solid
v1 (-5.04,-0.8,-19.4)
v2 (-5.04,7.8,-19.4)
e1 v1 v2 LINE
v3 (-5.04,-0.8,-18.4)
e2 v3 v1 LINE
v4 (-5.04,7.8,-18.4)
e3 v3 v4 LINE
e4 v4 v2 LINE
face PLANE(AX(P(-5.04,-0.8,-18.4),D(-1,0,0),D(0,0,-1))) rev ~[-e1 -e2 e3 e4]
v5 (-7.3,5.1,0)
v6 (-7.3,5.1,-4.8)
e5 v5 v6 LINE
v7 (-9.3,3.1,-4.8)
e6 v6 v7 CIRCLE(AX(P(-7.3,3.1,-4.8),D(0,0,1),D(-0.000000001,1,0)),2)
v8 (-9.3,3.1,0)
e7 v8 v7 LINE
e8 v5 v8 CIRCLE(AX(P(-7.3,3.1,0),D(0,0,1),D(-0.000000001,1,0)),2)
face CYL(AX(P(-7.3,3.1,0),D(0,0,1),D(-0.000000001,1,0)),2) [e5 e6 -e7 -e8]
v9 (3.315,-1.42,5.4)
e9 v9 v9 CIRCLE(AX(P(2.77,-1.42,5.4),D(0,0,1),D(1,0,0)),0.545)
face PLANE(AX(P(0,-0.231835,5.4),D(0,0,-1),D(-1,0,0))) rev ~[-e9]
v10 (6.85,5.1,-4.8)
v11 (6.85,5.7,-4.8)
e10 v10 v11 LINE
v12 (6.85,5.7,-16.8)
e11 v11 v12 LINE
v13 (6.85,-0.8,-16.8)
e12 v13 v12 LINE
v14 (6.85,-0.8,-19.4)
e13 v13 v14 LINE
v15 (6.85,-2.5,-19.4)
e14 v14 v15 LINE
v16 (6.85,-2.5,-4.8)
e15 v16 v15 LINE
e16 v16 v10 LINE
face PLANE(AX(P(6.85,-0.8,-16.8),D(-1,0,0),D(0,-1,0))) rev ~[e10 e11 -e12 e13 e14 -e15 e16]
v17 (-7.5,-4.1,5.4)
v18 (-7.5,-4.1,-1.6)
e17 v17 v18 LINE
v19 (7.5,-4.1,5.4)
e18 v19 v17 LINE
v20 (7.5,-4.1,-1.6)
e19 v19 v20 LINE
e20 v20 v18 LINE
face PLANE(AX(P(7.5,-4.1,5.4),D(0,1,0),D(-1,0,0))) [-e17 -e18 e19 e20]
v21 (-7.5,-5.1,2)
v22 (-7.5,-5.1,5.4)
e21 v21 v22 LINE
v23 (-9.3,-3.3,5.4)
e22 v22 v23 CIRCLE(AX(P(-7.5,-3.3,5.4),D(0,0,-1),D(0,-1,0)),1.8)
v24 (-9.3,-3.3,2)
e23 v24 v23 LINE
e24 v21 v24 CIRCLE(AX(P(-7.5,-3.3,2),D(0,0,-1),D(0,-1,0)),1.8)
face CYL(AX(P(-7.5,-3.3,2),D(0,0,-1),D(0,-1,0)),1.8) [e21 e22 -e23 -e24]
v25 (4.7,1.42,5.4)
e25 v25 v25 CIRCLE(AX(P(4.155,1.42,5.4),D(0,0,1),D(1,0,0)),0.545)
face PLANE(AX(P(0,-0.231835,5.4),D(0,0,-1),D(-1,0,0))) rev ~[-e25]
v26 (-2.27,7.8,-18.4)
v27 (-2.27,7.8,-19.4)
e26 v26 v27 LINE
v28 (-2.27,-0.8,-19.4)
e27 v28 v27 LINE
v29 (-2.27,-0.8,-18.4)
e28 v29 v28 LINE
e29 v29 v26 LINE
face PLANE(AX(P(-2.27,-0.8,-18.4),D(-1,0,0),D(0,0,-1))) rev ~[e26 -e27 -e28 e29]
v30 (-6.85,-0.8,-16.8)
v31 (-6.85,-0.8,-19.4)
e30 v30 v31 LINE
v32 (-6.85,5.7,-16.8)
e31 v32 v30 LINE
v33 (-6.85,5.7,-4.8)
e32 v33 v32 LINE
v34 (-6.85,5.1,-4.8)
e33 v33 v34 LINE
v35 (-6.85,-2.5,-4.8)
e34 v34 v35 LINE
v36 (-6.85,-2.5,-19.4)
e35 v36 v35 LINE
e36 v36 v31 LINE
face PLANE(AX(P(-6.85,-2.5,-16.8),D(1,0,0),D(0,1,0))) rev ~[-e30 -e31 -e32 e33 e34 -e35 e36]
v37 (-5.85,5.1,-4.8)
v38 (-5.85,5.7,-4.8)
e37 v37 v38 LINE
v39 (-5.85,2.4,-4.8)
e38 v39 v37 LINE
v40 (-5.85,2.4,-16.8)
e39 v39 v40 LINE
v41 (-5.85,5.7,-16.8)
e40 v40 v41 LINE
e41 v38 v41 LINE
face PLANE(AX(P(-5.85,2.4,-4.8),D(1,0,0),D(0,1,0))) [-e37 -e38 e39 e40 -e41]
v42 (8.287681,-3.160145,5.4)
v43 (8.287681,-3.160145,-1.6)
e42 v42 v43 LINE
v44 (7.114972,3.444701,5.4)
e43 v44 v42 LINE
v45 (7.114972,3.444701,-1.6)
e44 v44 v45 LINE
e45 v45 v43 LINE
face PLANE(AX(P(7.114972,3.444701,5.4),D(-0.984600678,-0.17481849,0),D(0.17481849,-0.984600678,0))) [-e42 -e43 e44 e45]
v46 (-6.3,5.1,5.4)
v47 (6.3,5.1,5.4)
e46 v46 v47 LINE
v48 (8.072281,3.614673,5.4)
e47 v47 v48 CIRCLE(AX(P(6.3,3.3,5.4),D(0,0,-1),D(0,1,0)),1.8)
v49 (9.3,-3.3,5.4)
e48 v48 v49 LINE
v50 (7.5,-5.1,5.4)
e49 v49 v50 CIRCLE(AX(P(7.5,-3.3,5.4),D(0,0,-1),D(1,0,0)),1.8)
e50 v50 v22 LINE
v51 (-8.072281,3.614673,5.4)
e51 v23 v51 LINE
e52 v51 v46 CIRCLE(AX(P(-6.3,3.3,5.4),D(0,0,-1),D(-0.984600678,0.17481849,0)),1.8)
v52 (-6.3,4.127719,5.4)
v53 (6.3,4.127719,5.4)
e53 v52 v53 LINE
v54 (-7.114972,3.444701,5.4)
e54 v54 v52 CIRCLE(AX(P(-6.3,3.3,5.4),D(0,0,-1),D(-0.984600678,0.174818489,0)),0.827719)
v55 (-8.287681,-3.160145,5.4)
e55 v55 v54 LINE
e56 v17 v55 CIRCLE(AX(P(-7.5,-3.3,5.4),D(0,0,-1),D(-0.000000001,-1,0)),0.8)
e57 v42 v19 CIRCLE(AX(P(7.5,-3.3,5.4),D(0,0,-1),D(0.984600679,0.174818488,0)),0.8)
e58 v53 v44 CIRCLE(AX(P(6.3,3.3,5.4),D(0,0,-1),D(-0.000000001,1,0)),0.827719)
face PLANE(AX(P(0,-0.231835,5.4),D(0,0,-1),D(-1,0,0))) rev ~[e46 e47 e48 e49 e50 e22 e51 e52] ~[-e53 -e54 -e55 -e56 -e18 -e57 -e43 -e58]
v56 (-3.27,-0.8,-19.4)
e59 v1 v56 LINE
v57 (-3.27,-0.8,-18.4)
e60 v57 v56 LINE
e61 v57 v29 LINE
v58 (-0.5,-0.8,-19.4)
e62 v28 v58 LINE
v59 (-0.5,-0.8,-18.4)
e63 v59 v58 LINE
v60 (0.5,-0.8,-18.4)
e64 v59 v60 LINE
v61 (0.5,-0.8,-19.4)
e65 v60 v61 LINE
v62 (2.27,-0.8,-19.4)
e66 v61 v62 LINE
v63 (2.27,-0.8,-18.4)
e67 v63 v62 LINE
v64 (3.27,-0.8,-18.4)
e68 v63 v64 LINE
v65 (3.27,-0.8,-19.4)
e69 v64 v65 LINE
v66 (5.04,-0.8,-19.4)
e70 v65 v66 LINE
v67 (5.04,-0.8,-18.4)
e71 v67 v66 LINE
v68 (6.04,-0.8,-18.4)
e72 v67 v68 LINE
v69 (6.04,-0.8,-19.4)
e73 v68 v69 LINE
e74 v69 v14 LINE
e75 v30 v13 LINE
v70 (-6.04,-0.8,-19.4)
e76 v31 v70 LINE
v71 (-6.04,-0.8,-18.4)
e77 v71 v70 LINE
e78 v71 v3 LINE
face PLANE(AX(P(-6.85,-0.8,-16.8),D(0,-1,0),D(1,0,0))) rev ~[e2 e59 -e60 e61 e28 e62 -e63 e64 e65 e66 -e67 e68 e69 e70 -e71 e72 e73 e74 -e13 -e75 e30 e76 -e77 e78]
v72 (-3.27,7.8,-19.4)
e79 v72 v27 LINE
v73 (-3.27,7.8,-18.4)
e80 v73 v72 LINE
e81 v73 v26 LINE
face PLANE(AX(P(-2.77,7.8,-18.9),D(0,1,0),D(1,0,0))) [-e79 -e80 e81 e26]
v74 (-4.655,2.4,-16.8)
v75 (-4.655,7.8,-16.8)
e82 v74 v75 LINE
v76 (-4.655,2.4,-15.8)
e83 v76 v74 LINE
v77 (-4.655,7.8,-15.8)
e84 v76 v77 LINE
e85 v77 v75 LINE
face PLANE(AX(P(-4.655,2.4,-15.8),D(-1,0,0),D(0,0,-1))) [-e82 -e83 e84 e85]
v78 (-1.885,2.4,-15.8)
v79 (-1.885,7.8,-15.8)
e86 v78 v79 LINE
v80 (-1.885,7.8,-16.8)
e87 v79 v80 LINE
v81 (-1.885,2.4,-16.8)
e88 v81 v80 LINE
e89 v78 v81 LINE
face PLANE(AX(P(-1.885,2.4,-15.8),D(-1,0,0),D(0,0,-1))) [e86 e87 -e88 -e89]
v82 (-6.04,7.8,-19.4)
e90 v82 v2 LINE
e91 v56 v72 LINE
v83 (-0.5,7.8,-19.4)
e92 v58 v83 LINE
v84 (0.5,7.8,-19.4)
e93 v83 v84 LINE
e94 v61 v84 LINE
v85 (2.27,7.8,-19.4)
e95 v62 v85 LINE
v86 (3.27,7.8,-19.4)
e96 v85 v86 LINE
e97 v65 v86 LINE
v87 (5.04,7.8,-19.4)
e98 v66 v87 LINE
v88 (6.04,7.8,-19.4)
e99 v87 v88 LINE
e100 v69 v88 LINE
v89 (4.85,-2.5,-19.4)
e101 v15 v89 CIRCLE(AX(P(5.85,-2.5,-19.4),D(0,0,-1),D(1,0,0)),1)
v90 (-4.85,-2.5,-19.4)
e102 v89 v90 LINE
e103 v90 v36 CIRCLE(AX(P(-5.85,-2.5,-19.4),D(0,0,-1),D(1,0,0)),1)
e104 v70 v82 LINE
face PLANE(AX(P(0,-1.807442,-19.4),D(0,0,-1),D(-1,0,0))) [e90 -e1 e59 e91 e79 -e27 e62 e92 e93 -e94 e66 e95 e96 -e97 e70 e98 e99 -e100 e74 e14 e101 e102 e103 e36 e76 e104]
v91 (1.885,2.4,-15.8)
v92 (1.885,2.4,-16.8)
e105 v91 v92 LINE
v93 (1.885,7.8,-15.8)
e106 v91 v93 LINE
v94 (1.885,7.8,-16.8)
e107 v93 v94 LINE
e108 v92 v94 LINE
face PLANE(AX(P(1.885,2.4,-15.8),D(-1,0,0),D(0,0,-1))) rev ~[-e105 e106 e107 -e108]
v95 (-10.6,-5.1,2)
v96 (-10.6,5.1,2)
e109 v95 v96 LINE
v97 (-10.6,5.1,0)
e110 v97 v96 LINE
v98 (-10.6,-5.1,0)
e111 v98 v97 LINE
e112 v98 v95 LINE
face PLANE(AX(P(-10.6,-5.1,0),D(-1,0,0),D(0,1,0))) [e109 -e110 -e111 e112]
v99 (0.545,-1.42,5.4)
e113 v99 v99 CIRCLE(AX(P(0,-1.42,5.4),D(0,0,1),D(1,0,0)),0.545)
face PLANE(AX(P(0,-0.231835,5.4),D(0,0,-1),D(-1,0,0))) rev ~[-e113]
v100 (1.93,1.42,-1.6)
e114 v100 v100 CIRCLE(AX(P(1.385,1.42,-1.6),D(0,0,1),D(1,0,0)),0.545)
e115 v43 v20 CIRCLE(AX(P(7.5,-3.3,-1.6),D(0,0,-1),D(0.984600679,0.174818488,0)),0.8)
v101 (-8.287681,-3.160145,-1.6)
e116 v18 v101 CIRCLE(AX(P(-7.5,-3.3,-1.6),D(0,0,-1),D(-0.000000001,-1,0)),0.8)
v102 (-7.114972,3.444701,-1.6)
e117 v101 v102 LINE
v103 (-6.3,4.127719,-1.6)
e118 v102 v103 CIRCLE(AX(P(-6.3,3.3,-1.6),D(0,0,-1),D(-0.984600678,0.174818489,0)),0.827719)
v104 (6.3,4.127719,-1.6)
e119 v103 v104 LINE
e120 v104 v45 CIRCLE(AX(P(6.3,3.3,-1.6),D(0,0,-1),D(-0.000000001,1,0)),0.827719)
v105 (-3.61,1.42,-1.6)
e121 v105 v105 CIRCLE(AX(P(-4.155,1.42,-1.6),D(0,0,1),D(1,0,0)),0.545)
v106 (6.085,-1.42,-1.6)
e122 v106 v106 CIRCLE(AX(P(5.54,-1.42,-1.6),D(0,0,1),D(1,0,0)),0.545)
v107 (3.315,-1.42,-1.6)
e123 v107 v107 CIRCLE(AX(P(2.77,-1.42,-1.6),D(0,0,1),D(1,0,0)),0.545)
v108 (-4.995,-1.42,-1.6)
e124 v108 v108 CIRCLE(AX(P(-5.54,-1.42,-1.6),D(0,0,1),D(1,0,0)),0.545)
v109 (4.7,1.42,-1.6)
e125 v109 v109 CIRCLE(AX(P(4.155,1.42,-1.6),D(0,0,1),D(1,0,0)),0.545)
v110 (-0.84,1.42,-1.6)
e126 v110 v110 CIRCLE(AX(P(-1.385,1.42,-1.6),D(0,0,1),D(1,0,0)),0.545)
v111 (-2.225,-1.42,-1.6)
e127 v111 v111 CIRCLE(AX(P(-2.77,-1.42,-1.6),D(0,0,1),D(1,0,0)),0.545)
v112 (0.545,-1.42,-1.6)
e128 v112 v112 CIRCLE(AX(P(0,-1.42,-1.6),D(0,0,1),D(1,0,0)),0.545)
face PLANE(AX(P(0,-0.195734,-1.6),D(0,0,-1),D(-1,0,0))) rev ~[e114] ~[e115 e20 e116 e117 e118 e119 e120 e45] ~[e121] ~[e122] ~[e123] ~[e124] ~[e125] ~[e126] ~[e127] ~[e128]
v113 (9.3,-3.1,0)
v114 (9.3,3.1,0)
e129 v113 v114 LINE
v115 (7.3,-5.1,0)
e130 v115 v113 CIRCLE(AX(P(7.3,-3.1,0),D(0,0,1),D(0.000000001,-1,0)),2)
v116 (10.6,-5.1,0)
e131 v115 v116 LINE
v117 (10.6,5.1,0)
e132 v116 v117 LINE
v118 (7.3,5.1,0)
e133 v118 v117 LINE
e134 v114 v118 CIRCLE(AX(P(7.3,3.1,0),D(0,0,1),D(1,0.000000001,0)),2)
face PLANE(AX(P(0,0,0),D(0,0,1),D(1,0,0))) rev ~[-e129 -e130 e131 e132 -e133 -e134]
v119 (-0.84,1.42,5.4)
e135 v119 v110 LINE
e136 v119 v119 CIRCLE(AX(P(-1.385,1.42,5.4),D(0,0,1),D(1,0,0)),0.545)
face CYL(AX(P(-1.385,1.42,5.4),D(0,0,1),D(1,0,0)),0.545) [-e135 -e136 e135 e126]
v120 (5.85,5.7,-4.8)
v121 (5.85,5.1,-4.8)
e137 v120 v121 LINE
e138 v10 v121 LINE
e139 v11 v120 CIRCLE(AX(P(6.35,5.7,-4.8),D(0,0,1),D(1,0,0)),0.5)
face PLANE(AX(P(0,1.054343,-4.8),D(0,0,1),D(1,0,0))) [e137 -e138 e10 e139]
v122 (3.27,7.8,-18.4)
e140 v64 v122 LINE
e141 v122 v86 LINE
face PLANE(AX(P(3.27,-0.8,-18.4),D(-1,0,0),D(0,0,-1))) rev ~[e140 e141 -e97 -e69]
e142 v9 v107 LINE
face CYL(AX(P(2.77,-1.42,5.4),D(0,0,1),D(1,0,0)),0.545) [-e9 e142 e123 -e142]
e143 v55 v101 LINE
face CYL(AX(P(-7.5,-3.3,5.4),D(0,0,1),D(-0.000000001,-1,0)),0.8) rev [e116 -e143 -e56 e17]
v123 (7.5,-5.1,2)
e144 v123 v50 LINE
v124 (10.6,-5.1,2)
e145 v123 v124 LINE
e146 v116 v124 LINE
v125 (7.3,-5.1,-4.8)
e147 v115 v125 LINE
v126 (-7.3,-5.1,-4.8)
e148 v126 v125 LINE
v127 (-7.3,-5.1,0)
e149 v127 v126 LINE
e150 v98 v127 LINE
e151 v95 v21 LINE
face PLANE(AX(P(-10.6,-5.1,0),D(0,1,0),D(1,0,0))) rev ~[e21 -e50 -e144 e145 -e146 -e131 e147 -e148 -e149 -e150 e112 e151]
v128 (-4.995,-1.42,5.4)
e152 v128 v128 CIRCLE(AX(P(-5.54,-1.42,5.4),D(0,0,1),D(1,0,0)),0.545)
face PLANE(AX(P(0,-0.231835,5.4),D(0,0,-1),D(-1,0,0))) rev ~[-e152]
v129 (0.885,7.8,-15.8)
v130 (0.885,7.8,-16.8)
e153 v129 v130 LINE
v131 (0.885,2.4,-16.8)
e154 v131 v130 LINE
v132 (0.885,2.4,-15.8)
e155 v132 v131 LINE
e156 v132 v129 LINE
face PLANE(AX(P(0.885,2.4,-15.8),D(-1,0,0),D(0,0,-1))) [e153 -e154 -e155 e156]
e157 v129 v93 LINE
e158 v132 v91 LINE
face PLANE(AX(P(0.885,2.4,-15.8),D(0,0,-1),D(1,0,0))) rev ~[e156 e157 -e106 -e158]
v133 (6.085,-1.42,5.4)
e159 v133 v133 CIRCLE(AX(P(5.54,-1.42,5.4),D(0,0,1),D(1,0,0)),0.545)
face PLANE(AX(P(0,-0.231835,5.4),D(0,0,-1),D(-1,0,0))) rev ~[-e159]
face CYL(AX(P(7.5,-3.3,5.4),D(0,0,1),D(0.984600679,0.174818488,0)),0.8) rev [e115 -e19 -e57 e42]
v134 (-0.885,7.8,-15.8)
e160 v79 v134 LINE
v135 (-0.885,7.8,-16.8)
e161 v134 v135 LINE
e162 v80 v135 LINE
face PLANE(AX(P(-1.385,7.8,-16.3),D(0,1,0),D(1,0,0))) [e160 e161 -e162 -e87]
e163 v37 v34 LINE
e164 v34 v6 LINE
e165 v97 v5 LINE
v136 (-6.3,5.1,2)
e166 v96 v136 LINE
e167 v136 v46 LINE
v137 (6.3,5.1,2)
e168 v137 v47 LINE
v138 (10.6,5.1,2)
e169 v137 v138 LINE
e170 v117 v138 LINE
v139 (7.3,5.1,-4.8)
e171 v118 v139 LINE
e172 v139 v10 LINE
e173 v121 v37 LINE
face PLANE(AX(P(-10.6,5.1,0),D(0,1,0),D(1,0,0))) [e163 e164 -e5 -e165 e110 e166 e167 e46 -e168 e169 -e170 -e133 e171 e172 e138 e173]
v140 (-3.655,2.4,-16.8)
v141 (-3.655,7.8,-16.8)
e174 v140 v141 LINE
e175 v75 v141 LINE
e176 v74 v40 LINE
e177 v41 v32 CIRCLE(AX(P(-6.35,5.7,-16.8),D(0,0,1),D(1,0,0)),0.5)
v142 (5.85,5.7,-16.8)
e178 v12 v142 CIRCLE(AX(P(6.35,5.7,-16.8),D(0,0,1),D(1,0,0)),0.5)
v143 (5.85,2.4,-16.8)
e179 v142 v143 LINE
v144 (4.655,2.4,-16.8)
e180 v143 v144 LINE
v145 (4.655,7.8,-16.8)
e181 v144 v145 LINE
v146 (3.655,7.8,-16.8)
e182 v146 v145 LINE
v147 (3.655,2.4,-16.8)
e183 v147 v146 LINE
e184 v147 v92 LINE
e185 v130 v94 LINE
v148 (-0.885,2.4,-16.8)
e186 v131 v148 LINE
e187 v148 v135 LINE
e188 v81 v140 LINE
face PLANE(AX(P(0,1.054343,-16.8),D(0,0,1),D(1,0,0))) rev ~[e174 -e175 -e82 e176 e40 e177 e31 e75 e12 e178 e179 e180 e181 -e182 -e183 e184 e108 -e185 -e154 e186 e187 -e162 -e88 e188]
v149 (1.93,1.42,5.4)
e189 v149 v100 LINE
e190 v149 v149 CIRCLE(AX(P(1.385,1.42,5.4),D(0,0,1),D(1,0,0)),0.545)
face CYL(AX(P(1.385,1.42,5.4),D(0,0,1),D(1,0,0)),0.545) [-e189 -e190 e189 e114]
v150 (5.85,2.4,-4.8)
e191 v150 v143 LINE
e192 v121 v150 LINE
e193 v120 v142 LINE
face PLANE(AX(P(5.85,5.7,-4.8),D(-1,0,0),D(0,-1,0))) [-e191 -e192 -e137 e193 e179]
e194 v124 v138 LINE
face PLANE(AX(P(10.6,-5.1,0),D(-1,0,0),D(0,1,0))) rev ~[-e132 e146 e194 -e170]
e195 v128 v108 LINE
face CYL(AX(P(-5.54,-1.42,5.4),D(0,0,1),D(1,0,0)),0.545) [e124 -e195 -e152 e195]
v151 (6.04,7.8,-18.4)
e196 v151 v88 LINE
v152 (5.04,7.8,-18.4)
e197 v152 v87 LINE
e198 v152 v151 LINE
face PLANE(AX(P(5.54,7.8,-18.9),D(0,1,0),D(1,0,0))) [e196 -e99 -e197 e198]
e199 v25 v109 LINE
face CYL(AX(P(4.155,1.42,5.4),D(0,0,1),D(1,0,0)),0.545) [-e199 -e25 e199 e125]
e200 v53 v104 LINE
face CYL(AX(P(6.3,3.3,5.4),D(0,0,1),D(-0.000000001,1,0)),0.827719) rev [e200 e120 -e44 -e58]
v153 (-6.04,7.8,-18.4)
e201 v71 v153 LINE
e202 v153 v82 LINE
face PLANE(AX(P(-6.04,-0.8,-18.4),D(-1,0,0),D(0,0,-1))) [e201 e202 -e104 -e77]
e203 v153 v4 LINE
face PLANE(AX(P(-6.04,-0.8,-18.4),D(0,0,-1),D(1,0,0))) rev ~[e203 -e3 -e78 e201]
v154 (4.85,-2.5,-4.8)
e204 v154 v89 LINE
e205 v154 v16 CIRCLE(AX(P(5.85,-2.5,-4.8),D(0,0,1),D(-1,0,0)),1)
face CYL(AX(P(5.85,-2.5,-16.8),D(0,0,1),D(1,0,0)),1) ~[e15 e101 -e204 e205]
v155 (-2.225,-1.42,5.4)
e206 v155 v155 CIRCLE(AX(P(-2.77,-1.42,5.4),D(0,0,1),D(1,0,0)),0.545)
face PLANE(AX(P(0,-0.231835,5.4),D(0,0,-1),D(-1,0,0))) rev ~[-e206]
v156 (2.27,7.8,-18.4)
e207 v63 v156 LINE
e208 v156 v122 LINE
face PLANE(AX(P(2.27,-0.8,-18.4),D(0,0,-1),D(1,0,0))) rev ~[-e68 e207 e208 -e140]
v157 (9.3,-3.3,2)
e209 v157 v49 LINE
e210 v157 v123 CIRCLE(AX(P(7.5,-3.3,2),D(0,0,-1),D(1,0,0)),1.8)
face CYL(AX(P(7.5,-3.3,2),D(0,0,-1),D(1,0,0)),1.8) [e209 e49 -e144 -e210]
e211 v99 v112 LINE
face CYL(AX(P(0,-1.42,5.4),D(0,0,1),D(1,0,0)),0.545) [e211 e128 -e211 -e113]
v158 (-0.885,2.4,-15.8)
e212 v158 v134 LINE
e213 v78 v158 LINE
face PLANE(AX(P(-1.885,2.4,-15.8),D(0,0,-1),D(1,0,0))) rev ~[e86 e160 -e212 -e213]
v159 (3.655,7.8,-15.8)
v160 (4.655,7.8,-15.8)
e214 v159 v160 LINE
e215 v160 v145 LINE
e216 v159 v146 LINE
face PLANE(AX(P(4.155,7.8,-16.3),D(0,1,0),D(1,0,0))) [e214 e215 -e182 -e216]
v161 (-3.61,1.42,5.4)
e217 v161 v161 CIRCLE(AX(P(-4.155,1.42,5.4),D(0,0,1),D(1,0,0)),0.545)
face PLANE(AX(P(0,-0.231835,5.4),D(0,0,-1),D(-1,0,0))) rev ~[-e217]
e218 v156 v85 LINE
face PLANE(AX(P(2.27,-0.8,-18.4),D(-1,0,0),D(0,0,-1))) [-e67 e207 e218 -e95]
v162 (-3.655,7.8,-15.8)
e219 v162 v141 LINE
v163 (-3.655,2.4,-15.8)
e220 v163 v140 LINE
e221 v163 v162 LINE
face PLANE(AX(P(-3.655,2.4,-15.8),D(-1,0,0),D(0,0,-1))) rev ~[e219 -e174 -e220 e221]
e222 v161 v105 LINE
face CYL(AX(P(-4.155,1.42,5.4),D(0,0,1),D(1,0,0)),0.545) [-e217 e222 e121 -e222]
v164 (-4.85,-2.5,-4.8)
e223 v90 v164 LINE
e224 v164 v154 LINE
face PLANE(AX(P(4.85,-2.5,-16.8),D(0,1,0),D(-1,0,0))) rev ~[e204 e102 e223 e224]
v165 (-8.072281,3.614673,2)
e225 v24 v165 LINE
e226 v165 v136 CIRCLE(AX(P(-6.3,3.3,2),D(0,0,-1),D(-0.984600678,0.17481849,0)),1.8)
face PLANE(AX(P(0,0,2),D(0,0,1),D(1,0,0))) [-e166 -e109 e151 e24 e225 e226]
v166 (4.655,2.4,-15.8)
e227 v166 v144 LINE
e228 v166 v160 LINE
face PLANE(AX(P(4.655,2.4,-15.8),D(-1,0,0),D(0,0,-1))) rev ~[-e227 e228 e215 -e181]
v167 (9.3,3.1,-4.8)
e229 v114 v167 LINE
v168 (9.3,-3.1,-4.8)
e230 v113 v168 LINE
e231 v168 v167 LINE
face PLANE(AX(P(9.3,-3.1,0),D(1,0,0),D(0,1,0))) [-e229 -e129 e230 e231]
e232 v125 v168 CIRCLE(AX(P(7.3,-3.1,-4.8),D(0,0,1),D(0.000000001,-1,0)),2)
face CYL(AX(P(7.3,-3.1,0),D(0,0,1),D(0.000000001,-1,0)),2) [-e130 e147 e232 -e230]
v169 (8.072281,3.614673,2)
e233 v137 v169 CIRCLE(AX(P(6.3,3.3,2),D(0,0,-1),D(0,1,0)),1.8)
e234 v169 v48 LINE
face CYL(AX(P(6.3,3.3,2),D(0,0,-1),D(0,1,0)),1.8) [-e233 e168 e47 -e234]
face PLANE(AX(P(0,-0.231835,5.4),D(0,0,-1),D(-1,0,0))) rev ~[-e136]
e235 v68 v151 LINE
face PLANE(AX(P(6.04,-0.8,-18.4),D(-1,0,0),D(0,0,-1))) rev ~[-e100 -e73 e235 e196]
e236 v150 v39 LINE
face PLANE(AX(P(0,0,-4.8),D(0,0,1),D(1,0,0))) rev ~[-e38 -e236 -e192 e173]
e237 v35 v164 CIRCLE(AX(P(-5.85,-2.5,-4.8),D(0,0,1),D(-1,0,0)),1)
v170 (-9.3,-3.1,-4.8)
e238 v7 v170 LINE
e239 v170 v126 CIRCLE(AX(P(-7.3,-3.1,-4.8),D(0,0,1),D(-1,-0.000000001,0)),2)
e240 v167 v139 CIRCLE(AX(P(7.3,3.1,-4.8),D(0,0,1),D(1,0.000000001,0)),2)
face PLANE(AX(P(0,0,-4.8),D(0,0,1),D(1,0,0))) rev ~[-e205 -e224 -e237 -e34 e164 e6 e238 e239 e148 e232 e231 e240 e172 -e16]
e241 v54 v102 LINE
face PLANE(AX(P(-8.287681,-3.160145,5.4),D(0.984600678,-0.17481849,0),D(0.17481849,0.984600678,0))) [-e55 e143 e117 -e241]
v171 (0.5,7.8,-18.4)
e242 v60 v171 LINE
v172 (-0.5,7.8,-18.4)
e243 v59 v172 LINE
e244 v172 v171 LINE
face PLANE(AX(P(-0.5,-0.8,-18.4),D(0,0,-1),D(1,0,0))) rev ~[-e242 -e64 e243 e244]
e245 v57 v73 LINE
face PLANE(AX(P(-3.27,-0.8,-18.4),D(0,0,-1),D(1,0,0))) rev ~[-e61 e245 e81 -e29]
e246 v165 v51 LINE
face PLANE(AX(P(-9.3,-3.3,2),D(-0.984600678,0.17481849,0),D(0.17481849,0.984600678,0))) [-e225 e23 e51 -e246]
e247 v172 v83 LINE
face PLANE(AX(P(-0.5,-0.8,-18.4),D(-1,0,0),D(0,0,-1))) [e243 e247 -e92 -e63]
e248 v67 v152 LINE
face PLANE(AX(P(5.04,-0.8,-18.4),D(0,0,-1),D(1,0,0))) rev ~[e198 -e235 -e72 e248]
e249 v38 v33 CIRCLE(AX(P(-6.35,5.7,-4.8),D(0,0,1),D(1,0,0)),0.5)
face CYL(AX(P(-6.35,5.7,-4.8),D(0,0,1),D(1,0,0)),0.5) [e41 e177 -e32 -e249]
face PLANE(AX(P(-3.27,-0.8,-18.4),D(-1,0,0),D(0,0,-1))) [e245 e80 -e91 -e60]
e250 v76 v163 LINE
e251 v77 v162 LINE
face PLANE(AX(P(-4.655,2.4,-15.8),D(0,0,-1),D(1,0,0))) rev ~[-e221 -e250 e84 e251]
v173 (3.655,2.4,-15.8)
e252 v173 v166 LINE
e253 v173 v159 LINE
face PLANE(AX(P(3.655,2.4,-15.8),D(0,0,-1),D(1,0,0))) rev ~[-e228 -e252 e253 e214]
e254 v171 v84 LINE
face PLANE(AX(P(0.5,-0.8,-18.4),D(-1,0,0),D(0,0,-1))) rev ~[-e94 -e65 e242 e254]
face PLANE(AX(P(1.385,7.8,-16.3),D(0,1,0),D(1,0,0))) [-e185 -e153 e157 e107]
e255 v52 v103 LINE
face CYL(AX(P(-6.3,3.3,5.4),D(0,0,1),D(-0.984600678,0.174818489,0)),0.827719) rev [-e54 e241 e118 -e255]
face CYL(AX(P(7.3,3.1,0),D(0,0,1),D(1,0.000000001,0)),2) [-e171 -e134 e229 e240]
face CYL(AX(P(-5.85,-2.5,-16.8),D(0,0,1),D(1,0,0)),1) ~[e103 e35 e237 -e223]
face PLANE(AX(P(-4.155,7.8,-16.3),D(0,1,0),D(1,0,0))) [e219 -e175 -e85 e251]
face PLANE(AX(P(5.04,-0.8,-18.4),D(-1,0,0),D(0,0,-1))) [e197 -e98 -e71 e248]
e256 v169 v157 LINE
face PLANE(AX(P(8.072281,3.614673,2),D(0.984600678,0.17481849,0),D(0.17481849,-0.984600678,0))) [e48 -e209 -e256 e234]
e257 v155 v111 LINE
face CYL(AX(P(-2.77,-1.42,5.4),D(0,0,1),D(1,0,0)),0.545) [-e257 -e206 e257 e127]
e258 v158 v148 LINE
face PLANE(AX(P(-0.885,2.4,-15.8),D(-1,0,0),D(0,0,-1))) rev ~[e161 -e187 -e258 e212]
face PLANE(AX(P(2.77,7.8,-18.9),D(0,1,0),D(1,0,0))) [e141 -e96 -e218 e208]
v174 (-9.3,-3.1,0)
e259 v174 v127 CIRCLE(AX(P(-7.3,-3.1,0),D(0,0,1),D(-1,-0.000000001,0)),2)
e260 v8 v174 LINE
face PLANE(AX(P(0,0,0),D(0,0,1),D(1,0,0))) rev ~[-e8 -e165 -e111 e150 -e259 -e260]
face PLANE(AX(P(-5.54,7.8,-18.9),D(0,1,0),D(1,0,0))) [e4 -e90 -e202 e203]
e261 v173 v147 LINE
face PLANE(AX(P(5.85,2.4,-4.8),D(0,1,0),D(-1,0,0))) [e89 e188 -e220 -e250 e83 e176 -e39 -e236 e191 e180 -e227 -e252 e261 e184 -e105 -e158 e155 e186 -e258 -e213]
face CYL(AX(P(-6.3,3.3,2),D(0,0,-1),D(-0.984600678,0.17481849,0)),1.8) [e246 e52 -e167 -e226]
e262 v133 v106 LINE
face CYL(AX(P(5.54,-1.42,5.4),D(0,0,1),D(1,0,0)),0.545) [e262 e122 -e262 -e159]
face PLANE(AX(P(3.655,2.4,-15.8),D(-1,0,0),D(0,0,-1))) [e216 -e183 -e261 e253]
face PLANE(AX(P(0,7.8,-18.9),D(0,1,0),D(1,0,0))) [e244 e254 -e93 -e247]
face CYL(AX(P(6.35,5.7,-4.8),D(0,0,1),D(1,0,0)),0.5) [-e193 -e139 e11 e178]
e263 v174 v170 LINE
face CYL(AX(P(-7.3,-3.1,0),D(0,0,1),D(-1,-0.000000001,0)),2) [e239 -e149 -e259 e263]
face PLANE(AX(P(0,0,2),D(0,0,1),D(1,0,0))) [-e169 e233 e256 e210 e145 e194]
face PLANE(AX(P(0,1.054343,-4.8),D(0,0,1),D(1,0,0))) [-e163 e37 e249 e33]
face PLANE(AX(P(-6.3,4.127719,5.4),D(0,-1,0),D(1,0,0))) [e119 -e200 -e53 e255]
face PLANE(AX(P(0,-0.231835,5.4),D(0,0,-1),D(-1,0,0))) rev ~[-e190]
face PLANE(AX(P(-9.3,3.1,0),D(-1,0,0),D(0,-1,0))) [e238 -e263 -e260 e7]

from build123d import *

# Parameters (mm, degrees)
SKETCH_1_W          = 21.2
SKETCH_1_H          = 10.2
EXTRUDE_1_DEPTH     = 2
EXTRUDE_2_DEPTH     = 3.4
EXTRUDE_3_DEPTH     = 4.8
EXTRUDE_4_DEPTH     = 12
EXTRUDE_5_DEPTH     = 2.6
SKETCH_6_R          = 0.545
CUT_EXTRUDE_1_DEPTH = 7
SKETCH_7_W          = 1
SKETCH_7_H          = 1
EXTRUDE_6_DEPTH     = 8.6
SKETCH_8_W          = 1
SKETCH_8_H          = 1
EXTRUDE_7_DEPTH     = 5.4


with BuildPart() as part:
    # Эскиз1 → Бобышка-Вытянуть1 (new body)
    with BuildSketch(Plane.XY):
        Rectangle(SKETCH_1_W, SKETCH_1_H)
    extrude(amount=EXTRUDE_1_DEPTH)

    # Эскиз2 → Бобышка-Вытянуть2 (add)
    with BuildSketch(Plane.XY.offset(2)):
        with BuildLine():
            Line((-6.3, 5.1), (6.3, 5.1))
            ThreePointArc((6.3, 5.1), (7.4561981, 4.679567307), (8.072281221, 3.614673282))
            Line((8.072281221, 3.614673282), (9.3, -3.3))
            ThreePointArc((9.3, -3.3), (8.772792206, -4.572792206), (7.5, -5.1))
            Line((7.5, -5.1), (-7.5, -5.1))
            ThreePointArc((-7.5, -5.1), (-8.772792206, -4.572792206), (-9.3, -3.3))
            Line((-9.3, -3.3), (-8.072281221, 3.614673282))
            ThreePointArc((-8.072281221, 3.614673282), (-7.4561981, 4.679567307), (-6.3, 5.1))
        make_face()
    extrude(amount=EXTRUDE_2_DEPTH)

    # Эскиз3 → Бобышка-Вытянуть3 (add)
    with BuildSketch(Plane(origin=(0, 0, 0), x_dir=(-1, 0, 0), z_dir=(0, 0, -1))):
        with BuildLine():
            Line((7.3, -5.1), (-7.3, -5.1))
            ThreePointArc((-7.3, -5.1), (-8.714213562, -4.514213562), (-9.3, -3.1))
            Line((-9.3, -3.1), (-9.3, 3.1))
            ThreePointArc((-9.3, 3.1), (-8.714213562, 4.514213562), (-7.3, 5.1))
            Line((-7.3, 5.1), (7.3, 5.1))
            ThreePointArc((7.3, 5.1), (8.714213562, 4.514213562), (9.3, 3.1))
            Line((9.3, 3.1), (9.3, -3.1))
            ThreePointArc((9.3, -3.1), (8.714213562, -4.514213562), (7.3, -5.1))
        make_face()
    extrude(amount=EXTRUDE_3_DEPTH)

    # Эскиз4 → Бобышка-Вытянуть4 (add)
    with BuildSketch(Plane(origin=(0, 0, -4.8), x_dir=(-1, 0, 0), z_dir=(0, 0, -1))):
        with BuildLine():
            Line((4.85, -2.5), (-4.85, -2.5))
            ThreePointArc((-4.85, -2.5), (-5.85, -3.5), (-6.85, -2.5))
            Line((-6.85, -2.5), (-6.85, 5.7))
            ThreePointArc((-6.85, 5.7), (-6.35, 6.2), (-5.85, 5.7))
            Line((-5.85, 5.7), (-5.85, 2.4))
            Line((-5.85, 2.4), (5.85, 2.4))
            Line((5.85, 2.4), (5.85, 5.7))
            ThreePointArc((5.85, 5.7), (6.35, 6.2), (6.85, 5.7))
            Line((6.85, 5.7), (6.85, -2.5))
            ThreePointArc((6.85, -2.5), (5.85, -3.5), (4.85, -2.5))
        make_face()
    extrude(amount=EXTRUDE_4_DEPTH)

    # Эскиз5 → Бобышка-Вытянуть5 (add)
    with BuildSketch(Plane(origin=(0, 0, -16.8), x_dir=(-1, 0, 0), z_dir=(0, 0, -1))):
        with BuildLine():
            Line((6.85, -0.8), (-6.85, -0.8))
            Line((-6.85, -0.8), (-6.85, -2.5))
            ThreePointArc((-6.85, -2.5), (-5.85, -3.5), (-4.85, -2.5))
            Line((-4.85, -2.5), (4.85, -2.5))
            ThreePointArc((4.85, -2.5), (5.85, -3.5), (6.85, -2.5))
            Line((6.85, -2.5), (6.85, -0.8))
        make_face()
    extrude(amount=EXTRUDE_5_DEPTH)

    # Эскиз6 → Вырез-Вытянуть1 (cut)
    with BuildSketch(Plane.XY.offset(5.4)):
        with BuildLine():
            Line((7.5, -4.1), (-7.5, -4.1))
            ThreePointArc((-7.5, -4.1), (-8.113141025, -3.813865822), (-8.287680543, -3.160145208))
            Line((-8.287680543, -3.160145208), (-7.114972471, 3.444700547))
            ThreePointArc((-7.114972471, 3.444700547), (-6.831670489, 3.934385426), (-6.3, 4.127718779))
            Line((-6.3, 4.127718779), (6.3, 4.127718779))
            ThreePointArc((6.3, 4.127718779), (6.831670489, 3.934385426), (7.114972471, 3.444700547))
            Line((7.114972471, 3.444700547), (8.287680543, -3.160145208))
            ThreePointArc((8.287680543, -3.160145208), (8.113141025, -3.813865822), (7.5, -4.1))
        make_face()
        with Locations((0, -1.42)):
            Circle(SKETCH_6_R, mode=Mode.SUBTRACT)
        with Locations((-2.77, -1.42)):
            Circle(SKETCH_6_R, mode=Mode.SUBTRACT)
        with Locations((-5.54, -1.42)):
            Circle(SKETCH_6_R, mode=Mode.SUBTRACT)
        with Locations((2.77, -1.42)):
            Circle(SKETCH_6_R, mode=Mode.SUBTRACT)
        with Locations((5.54, -1.42)):
            Circle(SKETCH_6_R, mode=Mode.SUBTRACT)
        with Locations((1.385, 1.42)):
            Circle(SKETCH_6_R, mode=Mode.SUBTRACT)
        with Locations((-1.385, 1.42)):
            Circle(SKETCH_6_R, mode=Mode.SUBTRACT)
        with Locations((-4.155, 1.42)):
            Circle(SKETCH_6_R, mode=Mode.SUBTRACT)
        with Locations((4.155, 1.42)):
            Circle(SKETCH_6_R, mode=Mode.SUBTRACT)
    extrude(amount=-CUT_EXTRUDE_1_DEPTH, mode=Mode.SUBTRACT)

    # Эскиз7 → Бобышка-Вытянуть6 (add)
    with BuildSketch(Plane(origin=(0, -0.8, 0), x_dir=(1, 0, 0), z_dir=(0, 1, 0))):
        with Locations((0, 18.9)):
            Rectangle(SKETCH_7_W, SKETCH_7_H)
        with Locations((2.77, 18.9)):
            Rectangle(SKETCH_7_W, SKETCH_7_H)
        with Locations((5.54, 18.9)):
            Rectangle(SKETCH_7_W, SKETCH_7_H)
        with Locations((-2.77, 18.9)):
            Rectangle(SKETCH_7_W, SKETCH_7_H)
        with Locations((-5.54, 18.9)):
            Rectangle(SKETCH_7_W, SKETCH_7_H)
    extrude(amount=EXTRUDE_6_DEPTH)

    # Эскиз8 → Бобышка-Вытянуть7 (add)
    with BuildSketch(Plane(origin=(0, 2.4, 0), x_dir=(1, 0, 0), z_dir=(0, 1, 0))):
        with Locations((-1.385, 16.3)):
            Rectangle(SKETCH_8_W, SKETCH_8_H)
        with Locations((1.385, 16.3)):
            Rectangle(SKETCH_8_W, SKETCH_8_H)
        with Locations((4.155, 16.3)):
            Rectangle(SKETCH_8_W, SKETCH_8_H)
        with Locations((-4.155, 16.3)):
            Rectangle(SKETCH_8_W, SKETCH_8_H)
    extrude(amount=EXTRUDE_7_DEPTH)


solid = part.part
